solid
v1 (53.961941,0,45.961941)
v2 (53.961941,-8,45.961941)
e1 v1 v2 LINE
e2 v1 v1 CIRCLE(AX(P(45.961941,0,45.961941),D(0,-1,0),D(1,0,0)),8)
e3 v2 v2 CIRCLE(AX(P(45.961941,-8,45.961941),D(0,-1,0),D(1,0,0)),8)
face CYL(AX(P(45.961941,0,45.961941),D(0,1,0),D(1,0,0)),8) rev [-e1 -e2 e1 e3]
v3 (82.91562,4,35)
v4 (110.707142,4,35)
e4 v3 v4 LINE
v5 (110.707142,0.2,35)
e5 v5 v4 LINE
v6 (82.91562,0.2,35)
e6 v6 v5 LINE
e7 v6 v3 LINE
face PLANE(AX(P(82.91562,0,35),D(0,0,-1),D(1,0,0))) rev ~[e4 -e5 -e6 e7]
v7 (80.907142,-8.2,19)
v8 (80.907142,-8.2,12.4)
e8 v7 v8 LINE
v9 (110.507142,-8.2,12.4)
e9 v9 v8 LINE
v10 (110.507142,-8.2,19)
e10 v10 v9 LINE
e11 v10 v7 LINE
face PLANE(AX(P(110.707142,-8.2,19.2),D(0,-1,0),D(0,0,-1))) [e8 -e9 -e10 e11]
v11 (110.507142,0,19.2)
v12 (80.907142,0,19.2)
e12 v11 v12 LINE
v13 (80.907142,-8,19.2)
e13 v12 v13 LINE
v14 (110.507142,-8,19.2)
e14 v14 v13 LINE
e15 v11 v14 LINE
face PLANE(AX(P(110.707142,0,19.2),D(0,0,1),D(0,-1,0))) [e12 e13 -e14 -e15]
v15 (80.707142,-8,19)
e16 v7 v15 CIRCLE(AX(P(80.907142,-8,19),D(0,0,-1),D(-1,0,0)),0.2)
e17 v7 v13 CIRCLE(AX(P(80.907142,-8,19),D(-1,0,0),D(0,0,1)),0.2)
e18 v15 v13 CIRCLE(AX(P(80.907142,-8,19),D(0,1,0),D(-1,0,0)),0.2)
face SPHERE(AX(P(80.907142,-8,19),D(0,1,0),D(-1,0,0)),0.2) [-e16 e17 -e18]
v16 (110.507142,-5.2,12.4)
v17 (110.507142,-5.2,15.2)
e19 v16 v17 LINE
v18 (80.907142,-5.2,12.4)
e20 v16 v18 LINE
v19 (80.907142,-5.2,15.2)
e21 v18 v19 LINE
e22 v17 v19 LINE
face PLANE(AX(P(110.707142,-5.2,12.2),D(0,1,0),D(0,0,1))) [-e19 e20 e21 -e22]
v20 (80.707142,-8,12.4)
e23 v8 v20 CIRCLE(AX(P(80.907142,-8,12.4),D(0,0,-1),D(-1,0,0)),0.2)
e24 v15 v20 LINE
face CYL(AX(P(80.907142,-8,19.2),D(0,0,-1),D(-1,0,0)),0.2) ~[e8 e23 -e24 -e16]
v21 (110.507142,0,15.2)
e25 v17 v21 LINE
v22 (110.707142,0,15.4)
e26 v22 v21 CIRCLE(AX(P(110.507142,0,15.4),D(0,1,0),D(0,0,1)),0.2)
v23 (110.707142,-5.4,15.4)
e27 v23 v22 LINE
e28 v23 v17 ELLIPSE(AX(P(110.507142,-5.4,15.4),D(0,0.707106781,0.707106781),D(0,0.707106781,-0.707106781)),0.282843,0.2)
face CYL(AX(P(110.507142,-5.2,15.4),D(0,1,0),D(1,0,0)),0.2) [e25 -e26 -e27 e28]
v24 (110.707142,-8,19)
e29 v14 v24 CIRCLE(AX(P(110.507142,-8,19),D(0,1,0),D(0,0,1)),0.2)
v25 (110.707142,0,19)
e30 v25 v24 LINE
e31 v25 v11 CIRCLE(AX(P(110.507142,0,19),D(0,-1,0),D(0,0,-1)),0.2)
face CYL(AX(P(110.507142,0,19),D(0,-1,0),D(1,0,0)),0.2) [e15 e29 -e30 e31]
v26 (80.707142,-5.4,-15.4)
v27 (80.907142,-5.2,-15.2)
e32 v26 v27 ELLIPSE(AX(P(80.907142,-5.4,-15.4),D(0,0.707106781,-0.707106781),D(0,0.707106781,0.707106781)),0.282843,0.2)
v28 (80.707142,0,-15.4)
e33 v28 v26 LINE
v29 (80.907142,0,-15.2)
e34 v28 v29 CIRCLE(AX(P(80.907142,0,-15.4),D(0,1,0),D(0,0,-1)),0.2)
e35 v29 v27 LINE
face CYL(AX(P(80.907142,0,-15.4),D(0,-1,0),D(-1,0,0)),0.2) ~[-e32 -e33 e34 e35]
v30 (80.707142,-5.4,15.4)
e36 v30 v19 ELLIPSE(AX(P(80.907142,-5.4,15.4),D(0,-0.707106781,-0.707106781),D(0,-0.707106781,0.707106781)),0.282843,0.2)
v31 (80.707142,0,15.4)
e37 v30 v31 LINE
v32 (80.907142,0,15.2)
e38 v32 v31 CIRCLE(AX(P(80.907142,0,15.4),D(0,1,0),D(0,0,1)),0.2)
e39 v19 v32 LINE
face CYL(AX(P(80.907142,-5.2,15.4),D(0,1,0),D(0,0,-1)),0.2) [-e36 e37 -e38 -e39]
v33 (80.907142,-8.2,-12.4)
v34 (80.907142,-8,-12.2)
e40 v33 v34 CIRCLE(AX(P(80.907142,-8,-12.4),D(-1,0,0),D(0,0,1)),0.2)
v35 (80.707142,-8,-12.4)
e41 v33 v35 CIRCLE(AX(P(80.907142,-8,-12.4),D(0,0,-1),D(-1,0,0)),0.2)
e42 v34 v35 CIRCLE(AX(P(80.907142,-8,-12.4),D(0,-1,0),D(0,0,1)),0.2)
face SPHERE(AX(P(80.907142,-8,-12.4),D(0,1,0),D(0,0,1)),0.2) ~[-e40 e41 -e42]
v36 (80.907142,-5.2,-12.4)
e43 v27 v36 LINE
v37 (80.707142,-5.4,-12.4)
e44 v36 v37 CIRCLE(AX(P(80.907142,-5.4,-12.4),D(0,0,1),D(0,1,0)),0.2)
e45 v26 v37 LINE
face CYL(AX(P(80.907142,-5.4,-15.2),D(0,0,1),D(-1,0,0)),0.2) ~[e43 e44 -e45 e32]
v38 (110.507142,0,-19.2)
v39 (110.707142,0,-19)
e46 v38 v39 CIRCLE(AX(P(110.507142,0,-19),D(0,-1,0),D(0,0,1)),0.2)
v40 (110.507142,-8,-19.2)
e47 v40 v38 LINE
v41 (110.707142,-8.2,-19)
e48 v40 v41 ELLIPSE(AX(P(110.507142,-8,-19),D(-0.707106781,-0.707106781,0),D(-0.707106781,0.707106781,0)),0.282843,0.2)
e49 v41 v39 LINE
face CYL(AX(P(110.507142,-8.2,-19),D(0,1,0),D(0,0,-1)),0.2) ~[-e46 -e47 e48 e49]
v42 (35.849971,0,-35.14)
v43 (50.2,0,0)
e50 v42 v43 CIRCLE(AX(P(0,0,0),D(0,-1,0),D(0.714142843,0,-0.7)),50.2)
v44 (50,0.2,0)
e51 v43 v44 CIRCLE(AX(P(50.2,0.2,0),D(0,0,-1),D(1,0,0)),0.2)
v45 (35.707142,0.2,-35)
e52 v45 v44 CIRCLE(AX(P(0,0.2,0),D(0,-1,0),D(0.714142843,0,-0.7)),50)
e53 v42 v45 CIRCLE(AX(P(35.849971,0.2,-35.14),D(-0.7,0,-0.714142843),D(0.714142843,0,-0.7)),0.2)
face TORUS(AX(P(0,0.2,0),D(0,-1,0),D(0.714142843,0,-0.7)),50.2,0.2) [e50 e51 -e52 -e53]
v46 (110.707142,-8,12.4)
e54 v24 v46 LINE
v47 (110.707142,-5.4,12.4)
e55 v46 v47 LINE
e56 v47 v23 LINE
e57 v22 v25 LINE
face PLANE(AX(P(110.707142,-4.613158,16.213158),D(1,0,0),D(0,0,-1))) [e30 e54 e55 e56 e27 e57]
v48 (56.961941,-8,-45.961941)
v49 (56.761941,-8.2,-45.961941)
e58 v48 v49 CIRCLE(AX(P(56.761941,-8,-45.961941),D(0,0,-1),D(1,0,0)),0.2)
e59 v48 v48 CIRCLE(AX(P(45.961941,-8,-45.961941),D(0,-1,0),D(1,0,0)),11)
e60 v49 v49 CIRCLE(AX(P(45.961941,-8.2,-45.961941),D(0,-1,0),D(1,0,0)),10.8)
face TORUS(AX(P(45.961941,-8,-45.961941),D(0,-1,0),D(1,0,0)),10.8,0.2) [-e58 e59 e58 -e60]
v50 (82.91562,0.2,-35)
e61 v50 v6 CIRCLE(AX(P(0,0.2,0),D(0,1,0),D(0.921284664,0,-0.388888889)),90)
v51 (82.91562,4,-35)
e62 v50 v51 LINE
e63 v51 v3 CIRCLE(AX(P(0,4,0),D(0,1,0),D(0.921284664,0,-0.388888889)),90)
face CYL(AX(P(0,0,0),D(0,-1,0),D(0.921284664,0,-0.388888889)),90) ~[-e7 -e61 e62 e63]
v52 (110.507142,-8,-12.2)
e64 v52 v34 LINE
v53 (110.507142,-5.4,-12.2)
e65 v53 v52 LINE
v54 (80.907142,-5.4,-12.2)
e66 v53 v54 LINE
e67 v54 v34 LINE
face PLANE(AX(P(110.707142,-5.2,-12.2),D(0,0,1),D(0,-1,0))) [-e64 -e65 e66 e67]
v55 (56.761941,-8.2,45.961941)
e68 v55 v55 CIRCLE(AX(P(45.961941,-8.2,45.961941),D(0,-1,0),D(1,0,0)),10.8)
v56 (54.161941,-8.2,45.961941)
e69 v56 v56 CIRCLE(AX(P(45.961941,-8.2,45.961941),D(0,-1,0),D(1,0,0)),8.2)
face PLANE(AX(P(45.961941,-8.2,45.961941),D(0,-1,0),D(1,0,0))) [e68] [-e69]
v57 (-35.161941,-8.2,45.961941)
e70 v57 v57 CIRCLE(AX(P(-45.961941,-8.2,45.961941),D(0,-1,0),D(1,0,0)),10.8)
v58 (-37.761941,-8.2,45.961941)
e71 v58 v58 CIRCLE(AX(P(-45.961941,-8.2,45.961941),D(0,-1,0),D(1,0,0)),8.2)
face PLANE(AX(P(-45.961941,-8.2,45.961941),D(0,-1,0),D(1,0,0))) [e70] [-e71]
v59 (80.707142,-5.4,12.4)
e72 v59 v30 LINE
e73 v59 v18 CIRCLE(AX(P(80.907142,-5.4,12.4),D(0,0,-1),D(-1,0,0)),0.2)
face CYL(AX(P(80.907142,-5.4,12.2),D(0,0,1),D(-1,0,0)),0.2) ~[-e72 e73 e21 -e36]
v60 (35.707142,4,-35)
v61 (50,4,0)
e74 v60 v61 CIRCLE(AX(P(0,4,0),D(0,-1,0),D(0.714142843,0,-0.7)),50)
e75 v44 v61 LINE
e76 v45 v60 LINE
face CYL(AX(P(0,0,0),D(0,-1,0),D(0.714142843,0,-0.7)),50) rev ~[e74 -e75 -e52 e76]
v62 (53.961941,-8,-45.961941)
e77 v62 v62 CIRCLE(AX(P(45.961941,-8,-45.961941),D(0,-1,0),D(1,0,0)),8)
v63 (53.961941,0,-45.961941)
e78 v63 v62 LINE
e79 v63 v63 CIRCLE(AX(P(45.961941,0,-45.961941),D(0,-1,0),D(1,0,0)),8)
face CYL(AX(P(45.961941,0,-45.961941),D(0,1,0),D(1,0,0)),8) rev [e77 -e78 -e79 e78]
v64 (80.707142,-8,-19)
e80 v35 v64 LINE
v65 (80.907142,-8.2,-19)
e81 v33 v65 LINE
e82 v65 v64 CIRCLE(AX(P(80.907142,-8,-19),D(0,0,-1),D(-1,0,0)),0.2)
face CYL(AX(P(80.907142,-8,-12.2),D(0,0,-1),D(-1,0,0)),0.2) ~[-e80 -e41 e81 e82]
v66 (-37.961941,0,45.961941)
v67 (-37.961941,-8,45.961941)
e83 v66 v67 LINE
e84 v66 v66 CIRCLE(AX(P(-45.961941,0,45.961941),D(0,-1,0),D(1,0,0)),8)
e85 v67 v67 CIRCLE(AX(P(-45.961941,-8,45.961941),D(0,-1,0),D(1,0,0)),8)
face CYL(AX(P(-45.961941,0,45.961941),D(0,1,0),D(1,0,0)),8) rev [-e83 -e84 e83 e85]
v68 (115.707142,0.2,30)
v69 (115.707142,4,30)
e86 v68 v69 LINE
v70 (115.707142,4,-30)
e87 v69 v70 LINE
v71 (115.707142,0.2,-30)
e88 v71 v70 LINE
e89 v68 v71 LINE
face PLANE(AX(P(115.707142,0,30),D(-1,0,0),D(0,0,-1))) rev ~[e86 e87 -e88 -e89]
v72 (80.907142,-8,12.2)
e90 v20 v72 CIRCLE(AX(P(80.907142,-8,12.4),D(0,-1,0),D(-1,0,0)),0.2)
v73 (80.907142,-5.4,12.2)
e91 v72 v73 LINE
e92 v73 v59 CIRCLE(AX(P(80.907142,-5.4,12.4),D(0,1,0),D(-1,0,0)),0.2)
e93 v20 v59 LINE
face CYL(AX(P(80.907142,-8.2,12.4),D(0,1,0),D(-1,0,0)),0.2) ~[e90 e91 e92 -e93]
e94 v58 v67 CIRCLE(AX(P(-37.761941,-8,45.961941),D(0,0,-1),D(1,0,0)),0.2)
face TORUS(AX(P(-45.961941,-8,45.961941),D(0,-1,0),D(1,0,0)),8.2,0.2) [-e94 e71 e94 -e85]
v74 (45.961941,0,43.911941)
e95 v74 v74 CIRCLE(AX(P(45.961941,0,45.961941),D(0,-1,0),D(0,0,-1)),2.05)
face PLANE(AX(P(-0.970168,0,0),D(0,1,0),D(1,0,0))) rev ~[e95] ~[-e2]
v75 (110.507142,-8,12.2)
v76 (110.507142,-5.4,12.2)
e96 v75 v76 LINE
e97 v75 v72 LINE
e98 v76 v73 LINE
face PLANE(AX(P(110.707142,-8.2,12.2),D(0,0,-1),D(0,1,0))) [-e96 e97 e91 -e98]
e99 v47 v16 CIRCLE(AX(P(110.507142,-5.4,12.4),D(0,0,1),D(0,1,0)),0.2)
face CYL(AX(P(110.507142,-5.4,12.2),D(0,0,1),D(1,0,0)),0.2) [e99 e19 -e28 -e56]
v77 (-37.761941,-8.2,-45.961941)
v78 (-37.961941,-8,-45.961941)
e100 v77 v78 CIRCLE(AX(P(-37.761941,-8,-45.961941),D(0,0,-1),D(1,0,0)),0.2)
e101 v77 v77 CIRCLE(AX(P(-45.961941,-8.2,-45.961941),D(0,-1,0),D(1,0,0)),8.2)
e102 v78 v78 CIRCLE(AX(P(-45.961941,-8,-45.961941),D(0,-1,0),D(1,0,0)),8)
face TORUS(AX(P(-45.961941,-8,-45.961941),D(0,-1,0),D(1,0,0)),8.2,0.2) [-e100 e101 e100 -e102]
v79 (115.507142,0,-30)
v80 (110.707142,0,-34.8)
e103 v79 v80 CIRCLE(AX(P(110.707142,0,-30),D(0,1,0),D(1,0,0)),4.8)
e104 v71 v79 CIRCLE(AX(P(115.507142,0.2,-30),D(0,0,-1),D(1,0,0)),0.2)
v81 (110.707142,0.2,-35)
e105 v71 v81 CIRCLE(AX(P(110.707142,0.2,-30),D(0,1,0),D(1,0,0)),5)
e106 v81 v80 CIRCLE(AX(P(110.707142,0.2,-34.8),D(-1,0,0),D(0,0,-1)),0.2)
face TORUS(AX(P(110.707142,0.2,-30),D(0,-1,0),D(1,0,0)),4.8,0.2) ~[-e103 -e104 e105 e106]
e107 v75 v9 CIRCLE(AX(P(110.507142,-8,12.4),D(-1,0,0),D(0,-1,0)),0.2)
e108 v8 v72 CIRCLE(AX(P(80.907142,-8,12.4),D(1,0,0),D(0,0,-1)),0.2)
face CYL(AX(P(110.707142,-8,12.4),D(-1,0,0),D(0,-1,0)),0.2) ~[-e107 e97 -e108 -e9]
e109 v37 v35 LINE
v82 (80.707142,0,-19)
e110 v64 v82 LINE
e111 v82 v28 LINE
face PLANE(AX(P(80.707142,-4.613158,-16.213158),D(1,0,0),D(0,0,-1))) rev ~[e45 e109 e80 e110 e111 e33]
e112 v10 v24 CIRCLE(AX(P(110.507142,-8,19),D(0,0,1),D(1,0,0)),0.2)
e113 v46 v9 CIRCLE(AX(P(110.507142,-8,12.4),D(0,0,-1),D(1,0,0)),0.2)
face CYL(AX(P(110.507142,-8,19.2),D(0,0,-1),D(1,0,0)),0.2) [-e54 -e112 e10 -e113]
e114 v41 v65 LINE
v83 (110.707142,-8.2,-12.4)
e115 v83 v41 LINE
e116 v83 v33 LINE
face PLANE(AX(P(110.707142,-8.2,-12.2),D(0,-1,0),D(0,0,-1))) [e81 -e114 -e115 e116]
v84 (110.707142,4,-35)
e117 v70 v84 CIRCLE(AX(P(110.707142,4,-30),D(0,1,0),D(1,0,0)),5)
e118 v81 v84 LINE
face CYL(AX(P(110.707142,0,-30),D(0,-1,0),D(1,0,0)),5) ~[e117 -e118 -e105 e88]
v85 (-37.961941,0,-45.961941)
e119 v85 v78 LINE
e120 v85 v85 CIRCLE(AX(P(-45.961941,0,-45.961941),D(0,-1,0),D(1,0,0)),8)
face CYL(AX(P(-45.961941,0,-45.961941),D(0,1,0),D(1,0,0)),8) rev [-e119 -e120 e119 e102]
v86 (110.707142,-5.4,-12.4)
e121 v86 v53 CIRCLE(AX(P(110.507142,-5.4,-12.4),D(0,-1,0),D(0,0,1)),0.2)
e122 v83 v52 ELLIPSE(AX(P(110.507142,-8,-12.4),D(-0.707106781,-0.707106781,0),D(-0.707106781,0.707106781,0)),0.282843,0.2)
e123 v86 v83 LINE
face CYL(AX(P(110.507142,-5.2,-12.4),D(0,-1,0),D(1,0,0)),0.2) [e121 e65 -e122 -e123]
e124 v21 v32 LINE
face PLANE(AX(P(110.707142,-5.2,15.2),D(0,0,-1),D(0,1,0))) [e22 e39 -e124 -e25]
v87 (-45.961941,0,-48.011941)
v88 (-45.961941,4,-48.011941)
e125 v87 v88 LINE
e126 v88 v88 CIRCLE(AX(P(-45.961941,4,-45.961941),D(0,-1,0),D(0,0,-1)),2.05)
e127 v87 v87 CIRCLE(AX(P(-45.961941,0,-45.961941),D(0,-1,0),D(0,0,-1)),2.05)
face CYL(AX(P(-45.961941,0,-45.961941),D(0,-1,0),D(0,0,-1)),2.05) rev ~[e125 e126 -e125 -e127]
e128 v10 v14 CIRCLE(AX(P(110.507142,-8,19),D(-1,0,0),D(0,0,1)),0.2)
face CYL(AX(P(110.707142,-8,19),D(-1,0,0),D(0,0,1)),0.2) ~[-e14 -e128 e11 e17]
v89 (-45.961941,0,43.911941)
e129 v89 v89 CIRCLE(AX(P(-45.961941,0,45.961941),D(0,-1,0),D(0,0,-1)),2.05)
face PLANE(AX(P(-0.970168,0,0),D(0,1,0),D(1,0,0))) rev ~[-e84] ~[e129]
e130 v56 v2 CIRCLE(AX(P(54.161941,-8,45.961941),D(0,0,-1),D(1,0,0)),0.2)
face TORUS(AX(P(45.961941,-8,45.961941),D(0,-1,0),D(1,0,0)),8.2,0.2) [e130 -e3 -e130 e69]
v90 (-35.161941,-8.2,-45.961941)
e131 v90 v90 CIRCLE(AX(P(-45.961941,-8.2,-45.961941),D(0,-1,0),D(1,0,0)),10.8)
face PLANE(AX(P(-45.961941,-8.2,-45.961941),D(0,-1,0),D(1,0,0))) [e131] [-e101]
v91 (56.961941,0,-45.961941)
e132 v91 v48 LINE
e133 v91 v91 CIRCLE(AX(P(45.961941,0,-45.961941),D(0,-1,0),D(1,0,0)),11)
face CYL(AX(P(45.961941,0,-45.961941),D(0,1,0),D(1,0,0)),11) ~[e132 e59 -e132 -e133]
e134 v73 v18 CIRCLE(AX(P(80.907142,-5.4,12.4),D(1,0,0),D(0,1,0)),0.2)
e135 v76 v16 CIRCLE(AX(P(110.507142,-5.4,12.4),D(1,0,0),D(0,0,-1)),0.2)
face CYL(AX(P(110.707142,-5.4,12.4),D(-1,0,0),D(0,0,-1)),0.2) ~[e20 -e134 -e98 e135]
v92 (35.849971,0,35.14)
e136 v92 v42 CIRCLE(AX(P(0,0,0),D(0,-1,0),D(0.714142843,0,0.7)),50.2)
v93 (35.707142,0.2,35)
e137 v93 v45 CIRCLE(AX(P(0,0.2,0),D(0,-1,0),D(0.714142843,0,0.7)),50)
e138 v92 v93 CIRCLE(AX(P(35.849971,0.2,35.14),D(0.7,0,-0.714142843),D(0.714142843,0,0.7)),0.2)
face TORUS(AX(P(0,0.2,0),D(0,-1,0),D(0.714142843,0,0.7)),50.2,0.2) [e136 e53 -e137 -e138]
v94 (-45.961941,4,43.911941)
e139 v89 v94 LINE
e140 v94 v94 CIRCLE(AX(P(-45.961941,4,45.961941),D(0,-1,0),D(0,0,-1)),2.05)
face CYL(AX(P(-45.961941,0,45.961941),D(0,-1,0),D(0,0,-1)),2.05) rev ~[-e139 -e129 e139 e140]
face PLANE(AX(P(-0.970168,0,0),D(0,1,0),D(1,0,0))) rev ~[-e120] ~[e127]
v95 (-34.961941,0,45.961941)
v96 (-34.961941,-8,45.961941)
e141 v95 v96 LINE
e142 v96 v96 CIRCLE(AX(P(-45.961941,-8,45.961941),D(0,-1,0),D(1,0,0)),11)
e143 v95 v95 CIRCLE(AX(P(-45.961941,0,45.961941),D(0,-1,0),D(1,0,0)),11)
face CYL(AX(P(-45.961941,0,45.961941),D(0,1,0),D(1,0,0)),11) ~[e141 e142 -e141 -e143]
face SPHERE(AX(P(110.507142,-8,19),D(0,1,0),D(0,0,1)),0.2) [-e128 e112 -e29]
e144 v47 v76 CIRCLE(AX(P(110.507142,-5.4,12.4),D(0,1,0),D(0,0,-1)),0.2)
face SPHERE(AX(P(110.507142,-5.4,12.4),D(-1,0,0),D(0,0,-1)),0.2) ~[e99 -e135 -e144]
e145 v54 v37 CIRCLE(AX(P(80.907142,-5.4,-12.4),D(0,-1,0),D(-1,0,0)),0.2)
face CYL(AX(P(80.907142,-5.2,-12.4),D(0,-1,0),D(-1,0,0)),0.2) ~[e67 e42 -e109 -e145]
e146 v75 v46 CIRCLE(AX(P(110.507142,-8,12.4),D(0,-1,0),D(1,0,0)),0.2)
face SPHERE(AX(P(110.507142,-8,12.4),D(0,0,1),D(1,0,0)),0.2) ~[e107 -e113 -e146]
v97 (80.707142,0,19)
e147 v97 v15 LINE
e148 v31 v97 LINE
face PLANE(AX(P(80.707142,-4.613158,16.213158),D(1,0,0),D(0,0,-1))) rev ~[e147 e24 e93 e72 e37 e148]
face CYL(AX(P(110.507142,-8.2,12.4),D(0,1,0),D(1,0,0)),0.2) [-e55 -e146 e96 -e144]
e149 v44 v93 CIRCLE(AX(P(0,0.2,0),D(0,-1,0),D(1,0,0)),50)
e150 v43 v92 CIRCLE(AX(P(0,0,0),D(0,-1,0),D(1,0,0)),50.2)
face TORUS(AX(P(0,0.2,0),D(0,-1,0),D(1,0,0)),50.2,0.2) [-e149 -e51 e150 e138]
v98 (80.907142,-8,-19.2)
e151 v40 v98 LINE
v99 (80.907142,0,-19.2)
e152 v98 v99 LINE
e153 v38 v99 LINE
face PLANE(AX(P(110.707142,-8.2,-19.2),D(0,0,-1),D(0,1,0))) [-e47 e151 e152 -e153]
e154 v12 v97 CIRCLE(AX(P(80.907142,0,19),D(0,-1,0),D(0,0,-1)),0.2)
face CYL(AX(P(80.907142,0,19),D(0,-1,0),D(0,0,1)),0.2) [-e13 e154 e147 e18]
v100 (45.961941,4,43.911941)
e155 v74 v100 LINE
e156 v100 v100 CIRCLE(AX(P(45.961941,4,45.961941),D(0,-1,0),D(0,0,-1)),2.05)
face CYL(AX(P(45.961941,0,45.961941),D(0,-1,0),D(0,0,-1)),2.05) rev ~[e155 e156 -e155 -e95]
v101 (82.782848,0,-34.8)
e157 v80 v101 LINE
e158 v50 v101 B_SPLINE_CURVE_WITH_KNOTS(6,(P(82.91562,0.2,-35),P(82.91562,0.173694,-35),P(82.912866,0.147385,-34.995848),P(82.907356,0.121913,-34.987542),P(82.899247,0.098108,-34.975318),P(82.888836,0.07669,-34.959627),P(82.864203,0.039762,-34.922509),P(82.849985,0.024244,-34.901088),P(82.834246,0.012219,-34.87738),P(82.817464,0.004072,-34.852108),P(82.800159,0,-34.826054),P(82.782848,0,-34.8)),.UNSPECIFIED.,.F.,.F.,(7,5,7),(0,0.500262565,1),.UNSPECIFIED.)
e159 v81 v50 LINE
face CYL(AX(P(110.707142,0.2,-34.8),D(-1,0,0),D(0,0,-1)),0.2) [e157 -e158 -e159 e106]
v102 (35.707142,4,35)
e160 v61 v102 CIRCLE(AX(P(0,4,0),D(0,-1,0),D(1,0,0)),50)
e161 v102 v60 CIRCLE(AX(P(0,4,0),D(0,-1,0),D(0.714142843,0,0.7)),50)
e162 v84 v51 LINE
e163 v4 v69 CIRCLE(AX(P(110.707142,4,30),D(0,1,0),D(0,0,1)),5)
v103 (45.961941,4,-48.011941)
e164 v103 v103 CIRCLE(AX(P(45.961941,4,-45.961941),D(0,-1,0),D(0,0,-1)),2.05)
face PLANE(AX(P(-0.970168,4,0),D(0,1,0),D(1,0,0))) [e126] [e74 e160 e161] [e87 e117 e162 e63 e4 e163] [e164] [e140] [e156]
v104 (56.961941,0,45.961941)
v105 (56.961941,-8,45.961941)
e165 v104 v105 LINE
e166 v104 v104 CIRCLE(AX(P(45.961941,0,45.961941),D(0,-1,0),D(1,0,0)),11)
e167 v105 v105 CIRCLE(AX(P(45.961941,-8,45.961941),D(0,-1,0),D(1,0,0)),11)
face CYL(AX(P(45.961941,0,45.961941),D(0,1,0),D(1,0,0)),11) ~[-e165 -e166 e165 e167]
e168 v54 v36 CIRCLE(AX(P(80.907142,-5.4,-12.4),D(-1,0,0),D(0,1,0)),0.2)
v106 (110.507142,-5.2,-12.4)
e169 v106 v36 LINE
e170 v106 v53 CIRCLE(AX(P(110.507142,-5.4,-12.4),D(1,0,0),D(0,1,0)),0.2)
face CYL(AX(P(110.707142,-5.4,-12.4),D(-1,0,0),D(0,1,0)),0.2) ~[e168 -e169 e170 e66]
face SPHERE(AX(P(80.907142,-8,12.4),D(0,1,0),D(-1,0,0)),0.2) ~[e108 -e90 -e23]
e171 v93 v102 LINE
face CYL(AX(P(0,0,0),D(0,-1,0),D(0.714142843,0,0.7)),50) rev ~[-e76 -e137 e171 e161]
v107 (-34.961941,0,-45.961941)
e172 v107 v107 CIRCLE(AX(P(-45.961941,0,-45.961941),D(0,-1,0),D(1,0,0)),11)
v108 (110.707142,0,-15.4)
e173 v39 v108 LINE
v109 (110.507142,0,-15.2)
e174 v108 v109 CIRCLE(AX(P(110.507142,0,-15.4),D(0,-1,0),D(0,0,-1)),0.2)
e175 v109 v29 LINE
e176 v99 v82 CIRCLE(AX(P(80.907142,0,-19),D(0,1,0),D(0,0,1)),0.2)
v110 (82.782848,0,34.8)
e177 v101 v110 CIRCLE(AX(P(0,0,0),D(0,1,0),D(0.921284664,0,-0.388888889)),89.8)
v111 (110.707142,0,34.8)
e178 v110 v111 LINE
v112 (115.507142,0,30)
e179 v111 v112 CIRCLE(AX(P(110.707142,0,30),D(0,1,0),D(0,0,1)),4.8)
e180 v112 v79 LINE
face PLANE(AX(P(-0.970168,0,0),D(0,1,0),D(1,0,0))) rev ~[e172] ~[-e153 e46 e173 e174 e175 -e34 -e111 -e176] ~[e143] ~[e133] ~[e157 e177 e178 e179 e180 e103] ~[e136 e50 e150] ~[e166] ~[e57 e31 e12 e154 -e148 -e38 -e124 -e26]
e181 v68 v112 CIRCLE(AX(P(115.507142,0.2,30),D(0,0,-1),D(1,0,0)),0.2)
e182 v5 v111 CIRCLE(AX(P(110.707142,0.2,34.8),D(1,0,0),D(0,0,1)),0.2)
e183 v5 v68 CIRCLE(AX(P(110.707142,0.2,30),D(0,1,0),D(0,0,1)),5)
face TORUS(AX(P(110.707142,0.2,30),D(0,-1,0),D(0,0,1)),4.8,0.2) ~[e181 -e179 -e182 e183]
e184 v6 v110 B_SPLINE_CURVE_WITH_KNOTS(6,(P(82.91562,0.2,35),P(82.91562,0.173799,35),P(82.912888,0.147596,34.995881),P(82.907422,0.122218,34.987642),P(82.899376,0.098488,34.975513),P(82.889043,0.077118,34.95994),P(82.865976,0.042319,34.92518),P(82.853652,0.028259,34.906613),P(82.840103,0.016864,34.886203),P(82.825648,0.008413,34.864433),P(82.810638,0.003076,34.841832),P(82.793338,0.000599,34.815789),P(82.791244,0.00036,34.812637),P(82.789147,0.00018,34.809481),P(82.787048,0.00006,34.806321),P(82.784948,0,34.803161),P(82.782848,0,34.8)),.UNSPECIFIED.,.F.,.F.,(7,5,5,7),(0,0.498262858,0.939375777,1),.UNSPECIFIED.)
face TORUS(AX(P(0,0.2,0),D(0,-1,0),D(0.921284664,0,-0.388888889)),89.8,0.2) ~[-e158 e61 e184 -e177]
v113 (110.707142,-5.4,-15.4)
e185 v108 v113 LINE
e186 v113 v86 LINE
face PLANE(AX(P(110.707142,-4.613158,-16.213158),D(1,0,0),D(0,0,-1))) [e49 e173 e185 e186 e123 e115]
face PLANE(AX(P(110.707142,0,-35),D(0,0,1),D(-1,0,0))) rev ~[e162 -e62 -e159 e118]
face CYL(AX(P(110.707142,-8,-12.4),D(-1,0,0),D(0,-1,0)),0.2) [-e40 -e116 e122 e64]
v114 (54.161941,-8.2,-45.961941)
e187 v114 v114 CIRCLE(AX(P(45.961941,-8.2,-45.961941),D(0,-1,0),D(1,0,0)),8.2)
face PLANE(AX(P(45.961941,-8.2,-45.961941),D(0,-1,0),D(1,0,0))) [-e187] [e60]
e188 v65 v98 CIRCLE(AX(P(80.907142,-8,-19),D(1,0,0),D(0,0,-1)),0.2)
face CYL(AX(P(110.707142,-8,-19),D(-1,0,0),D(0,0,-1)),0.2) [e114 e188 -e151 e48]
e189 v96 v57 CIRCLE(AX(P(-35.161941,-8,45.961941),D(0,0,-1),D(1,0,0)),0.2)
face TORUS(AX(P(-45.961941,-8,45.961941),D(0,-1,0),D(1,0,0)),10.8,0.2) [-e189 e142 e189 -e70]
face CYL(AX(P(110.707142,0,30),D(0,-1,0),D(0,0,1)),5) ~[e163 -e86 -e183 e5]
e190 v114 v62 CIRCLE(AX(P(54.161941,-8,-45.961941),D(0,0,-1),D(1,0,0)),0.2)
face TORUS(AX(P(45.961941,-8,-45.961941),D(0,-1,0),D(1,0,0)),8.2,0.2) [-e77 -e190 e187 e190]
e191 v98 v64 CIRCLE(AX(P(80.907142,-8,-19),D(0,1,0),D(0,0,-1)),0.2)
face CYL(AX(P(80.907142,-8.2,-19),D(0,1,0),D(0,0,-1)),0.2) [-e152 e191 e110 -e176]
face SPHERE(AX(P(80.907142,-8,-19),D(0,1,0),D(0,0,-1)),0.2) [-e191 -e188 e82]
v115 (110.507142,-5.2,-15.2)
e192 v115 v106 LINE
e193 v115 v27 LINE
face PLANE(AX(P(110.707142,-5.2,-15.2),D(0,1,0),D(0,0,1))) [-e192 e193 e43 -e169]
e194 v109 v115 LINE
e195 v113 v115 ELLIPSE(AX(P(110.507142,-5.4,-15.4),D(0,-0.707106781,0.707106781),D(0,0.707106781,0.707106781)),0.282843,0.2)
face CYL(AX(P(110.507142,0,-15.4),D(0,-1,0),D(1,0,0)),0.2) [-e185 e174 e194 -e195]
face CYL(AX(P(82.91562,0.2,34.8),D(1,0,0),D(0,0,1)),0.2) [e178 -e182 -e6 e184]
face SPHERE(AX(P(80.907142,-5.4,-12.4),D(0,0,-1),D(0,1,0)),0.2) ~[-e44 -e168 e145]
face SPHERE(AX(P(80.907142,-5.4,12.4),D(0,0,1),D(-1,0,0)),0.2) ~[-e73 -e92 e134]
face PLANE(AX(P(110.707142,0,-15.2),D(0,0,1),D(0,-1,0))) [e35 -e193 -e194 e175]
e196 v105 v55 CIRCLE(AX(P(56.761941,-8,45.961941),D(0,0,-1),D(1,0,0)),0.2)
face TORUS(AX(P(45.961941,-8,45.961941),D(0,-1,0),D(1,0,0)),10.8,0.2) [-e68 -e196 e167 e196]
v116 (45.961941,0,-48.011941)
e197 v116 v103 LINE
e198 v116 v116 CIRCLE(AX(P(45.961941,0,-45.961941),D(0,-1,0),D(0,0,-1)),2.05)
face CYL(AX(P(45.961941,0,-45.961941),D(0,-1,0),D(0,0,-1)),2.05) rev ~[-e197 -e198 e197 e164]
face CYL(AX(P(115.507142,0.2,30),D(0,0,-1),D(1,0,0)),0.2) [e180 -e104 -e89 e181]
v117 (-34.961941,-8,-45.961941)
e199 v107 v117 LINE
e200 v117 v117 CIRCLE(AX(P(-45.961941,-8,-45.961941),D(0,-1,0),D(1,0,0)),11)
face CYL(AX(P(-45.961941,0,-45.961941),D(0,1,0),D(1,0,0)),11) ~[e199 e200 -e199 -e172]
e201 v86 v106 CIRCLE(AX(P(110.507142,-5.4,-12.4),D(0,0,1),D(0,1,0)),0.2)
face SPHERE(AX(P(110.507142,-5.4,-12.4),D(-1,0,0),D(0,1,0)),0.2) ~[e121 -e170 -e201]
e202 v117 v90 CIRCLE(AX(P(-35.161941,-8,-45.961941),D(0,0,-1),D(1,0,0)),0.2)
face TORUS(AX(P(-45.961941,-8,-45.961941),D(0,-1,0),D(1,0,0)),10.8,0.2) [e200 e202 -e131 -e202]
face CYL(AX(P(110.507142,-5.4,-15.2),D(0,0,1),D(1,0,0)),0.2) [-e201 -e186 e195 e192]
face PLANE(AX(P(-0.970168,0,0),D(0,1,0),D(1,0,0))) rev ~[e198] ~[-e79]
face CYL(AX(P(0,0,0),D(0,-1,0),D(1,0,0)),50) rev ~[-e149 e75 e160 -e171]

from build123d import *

# Parameters (mm, degrees)
EXTRUDE_1_DEPTH     = 4
EXTRUDE_2_DEPTH     = 30
CUT_EXTRUDE_1_REACH = 148.818
SKETCH_4_R          = 2.05
SKETCH_5_R          = 11
SKETCH_5_R_2        = 8
EXTRUDE_1_2_DEPTH   = 8.2
FILLET_1_R          = 0.2


with BuildPart() as part:
    # 草图1 → Extrude 1 (new body)
    with BuildSketch(Plane(origin=(0, 0, 0), x_dir=(1, 0, 0), z_dir=(0, 1, 0))):
        with BuildLine():
            ThreePointArc((35.707142143, -35), (-50, 0), (35.707142143, 35))
            Line((35.707142143, 35), (82.915619759, 35))
            ThreePointArc((82.915619759, 35), (-90, 0), (82.915619759, -35))
            Line((82.915619759, -35), (35.707142143, -35))
        make_face()
        with BuildLine():
            Line((82.915619759, 35), (35.707142143, 35))
            ThreePointArc((35.707142143, 35), (46.289075964, 18.902948088), (50, 0))
            Line((50, 0), (90, 0))
            ThreePointArc((90, 0), (88.211126788, 17.85489039), (82.915619759, 35))
        make_face()
        with BuildLine():
            Line((110.707142143, 35), (82.915619759, 35))
            ThreePointArc((82.915619759, 35), (88.211126788, 17.85489039), (90, 0))
            Line((90, 0), (115.707142143, 0))
            Line((115.707142143, 0), (115.707142143, 30))
            ThreePointArc((115.707142143, 30), (114.242676049, 33.535533906), (110.707142143, 35))
        make_face()
        with BuildLine():
            Line((115.707142143, 0), (90, 0))
            ThreePointArc((90, 0), (88.211126788, -17.85489039), (82.915619759, -35))
            Line((82.915619759, -35), (110.707142143, -35))
            ThreePointArc((110.707142143, -35), (114.242676049, -33.535533906), (115.707142143, -30))
            Line((115.707142143, -30), (115.707142143, 0))
        make_face()
        with BuildLine():
            Line((90, 0), (50, 0))
            ThreePointArc((50, 0), (46.289075964, -18.902948088), (35.707142143, -35))
            Line((35.707142143, -35), (82.915619759, -35))
            ThreePointArc((82.915619759, -35), (88.211126788, -17.85489039), (90, 0))
        make_face()
    extrude(amount=EXTRUDE_1_DEPTH)

    # 草图3 → 凸台-拉伸2 (add)
    with BuildSketch(Plane(origin=(110.707142143, 0, 0), x_dir=(0, 0, -1), z_dir=(1, 0, 0))):
        Polygon((-19.2, 0), (-19.2, -8.2), (-12.2, -8.2), (-12.2, -5.2), (-15.2, -5.2), (-15.2, 0), align=None)
        Polygon((19.2, -8.2), (19.2, 0), (15.2, 0), (15.2, -5.2), (12.2, -5.2), (12.2, -8.2), align=None)
    extrude(amount=-EXTRUDE_2_DEPTH)

    # 草图4 → 切除-拉伸1 (cut, up to next)
    with BuildSketch(Plane.XZ, mode=Mode.PRIVATE) as cut_extrude_1_sk1:
        with Locations(Location((45.961940777, -45.961940777, 0), (0, 0, 270))):
            Circle(SKETCH_4_R)
    cut_extrude_1_tool1 = extrude(cut_extrude_1_sk1.sketch, amount=-CUT_EXTRUDE_1_REACH, mode=Mode.PRIVATE) & part.part
    # 草图4 → 切除-拉伸1 (cut, up to next)
    with BuildSketch(Plane.XZ, mode=Mode.PRIVATE) as cut_extrude_1_sk2:
        with Locations(Location((45.961940777, 45.961940777, 0), (0, 0, 270))):
            Circle(SKETCH_4_R)
    cut_extrude_1_tool2 = extrude(cut_extrude_1_sk2.sketch, amount=-CUT_EXTRUDE_1_REACH, mode=Mode.PRIVATE) & part.part
    # 草图4 → 切除-拉伸1 (cut, up to next)
    with BuildSketch(Plane.XZ, mode=Mode.PRIVATE) as cut_extrude_1_sk3:
        with Locations(Location((-45.961940777, 45.961940777, 0), (0, 0, 270))):
            Circle(SKETCH_4_R)
    cut_extrude_1_tool3 = extrude(cut_extrude_1_sk3.sketch, amount=-CUT_EXTRUDE_1_REACH, mode=Mode.PRIVATE) & part.part
    # 草图4 → 切除-拉伸1 (cut, up to next)
    with BuildSketch(Plane.XZ, mode=Mode.PRIVATE) as cut_extrude_1_sk4:
        with Locations(Location((-45.961940777, -45.961940777, 0), (0, 0, 270))):
            Circle(SKETCH_4_R)
    cut_extrude_1_tool4 = extrude(cut_extrude_1_sk4.sketch, amount=-CUT_EXTRUDE_1_REACH, mode=Mode.PRIVATE) & part.part
    add(cut_extrude_1_tool1.solids().sort_by_distance((45.961941, 0, -45.961941))[0], mode=Mode.SUBTRACT)
    add(cut_extrude_1_tool2.solids().sort_by_distance((45.961941, 0, 45.961941))[0], mode=Mode.SUBTRACT)
    add(cut_extrude_1_tool3.solids().sort_by_distance((-45.961941, 0, 45.961941))[0], mode=Mode.SUBTRACT)
    add(cut_extrude_1_tool4.solids().sort_by_distance((-45.961941, 0, -45.961941))[0], mode=Mode.SUBTRACT)

    # 草图5 → Extrude 1 2 (add)
    # profile 1 of 4: a face of its own
    with BuildSketch(Plane.XZ):
        with Locations((45.961940777, 45.961940777)):
            Circle(SKETCH_5_R)
        with Locations((45.961940777, 45.961940777)):
            Circle(SKETCH_5_R_2, mode=Mode.SUBTRACT)
    # profile 2 of 4: a face of its own
    with BuildSketch(Plane.XZ):
        with Locations((45.961940777, -45.961940777)):
            Circle(SKETCH_5_R)
        with Locations((45.961940777, -45.961940777)):
            Circle(SKETCH_5_R_2, mode=Mode.SUBTRACT)
    # profile 3 of 4: a face of its own
    with BuildSketch(Plane.XZ):
        with Locations((-45.961940777, -45.961940777)):
            Circle(SKETCH_5_R)
        with Locations((-45.961940777, -45.961940777)):
            Circle(SKETCH_5_R_2, mode=Mode.SUBTRACT)
    # profile 4 of 4: a face of its own
    with BuildSketch(Plane.XZ):
        with Locations((-45.961940777, 45.961940777)):
            Circle(SKETCH_5_R)
        with Locations((-45.961940777, 45.961940777)):
            Circle(SKETCH_5_R_2, mode=Mode.SUBTRACT)
    extrude(amount=EXTRUDE_1_2_DEPTH)

    # 圆角1
    fillet_1_edges = [part.edges().sort_by_distance(p)[0] for p in [
        (96.811380951, 0, -35),
        (114.242676049, 0, 33.535533906),
        (80.707142143, -5.2, 13.7),
        (80.707142143, -5.2, -13.7),
        (-35.707142143, 0, 35),
        (80.707142143, -2.6, -15.2),
        (80.707142143, -2.6, 15.2),
        (80.707142143, -4.1, -19.2),
        (80.707142143, -6.7, 12.2),
        (95.707142143, -5.2, 12.2),
        (80.707142143, -4.1, 19.2),
        (95.707142143, -5.2, -12.2),
        (80.707142143, -6.7, -12.2),
        (95.707142143, -8.2, -19.2),
        (95.707142143, -8.2, -12.2),
        (80.707142143, -8.2, -15.7),
        (80.707142143, -8.2, 15.7),
        (37.961940777, -8.2, 45.961940777),
        (-53.961940777, -8.2, 45.961940777),
        (34.961940777, -8.2, -45.961940777),
        (37.961940777, -8.2, -45.961940777),
        (-53.961940777, -8.2, -45.961940777),
        (-56.961940777, -8.2, -45.961940777),
        (-56.961940777, -8.2, 45.961940777),
        (34.961940777, -8.2, 45.961940777),
        (110.707142143, -4.1, 19.2),
        (95.707142143, -8.2, 19.2),
        (110.707142143, -8.2, 15.7),
        (110.707142143, -6.7, 12.2),
        (110.707142143, -2.6, 15.2),
        (110.707142143, -5.2, 13.7),
        (110.707142143, -5.2, -13.7),
        (110.707142143, -6.7, -12.2),
        (110.707142143, -2.6, -15.2),
        (95.707142143, -8.2, 12.2),
        (110.707142143, -4.1, -19.2),
        (114.242676049, 0, -33.535533906),
        (115.707142143, 0, 0),
        (96.811380951, 0, 35),
        (-90, 0, 0),
    ]]
    fillet(fillet_1_edges, radius=FILLET_1_R)


solid = part.part
